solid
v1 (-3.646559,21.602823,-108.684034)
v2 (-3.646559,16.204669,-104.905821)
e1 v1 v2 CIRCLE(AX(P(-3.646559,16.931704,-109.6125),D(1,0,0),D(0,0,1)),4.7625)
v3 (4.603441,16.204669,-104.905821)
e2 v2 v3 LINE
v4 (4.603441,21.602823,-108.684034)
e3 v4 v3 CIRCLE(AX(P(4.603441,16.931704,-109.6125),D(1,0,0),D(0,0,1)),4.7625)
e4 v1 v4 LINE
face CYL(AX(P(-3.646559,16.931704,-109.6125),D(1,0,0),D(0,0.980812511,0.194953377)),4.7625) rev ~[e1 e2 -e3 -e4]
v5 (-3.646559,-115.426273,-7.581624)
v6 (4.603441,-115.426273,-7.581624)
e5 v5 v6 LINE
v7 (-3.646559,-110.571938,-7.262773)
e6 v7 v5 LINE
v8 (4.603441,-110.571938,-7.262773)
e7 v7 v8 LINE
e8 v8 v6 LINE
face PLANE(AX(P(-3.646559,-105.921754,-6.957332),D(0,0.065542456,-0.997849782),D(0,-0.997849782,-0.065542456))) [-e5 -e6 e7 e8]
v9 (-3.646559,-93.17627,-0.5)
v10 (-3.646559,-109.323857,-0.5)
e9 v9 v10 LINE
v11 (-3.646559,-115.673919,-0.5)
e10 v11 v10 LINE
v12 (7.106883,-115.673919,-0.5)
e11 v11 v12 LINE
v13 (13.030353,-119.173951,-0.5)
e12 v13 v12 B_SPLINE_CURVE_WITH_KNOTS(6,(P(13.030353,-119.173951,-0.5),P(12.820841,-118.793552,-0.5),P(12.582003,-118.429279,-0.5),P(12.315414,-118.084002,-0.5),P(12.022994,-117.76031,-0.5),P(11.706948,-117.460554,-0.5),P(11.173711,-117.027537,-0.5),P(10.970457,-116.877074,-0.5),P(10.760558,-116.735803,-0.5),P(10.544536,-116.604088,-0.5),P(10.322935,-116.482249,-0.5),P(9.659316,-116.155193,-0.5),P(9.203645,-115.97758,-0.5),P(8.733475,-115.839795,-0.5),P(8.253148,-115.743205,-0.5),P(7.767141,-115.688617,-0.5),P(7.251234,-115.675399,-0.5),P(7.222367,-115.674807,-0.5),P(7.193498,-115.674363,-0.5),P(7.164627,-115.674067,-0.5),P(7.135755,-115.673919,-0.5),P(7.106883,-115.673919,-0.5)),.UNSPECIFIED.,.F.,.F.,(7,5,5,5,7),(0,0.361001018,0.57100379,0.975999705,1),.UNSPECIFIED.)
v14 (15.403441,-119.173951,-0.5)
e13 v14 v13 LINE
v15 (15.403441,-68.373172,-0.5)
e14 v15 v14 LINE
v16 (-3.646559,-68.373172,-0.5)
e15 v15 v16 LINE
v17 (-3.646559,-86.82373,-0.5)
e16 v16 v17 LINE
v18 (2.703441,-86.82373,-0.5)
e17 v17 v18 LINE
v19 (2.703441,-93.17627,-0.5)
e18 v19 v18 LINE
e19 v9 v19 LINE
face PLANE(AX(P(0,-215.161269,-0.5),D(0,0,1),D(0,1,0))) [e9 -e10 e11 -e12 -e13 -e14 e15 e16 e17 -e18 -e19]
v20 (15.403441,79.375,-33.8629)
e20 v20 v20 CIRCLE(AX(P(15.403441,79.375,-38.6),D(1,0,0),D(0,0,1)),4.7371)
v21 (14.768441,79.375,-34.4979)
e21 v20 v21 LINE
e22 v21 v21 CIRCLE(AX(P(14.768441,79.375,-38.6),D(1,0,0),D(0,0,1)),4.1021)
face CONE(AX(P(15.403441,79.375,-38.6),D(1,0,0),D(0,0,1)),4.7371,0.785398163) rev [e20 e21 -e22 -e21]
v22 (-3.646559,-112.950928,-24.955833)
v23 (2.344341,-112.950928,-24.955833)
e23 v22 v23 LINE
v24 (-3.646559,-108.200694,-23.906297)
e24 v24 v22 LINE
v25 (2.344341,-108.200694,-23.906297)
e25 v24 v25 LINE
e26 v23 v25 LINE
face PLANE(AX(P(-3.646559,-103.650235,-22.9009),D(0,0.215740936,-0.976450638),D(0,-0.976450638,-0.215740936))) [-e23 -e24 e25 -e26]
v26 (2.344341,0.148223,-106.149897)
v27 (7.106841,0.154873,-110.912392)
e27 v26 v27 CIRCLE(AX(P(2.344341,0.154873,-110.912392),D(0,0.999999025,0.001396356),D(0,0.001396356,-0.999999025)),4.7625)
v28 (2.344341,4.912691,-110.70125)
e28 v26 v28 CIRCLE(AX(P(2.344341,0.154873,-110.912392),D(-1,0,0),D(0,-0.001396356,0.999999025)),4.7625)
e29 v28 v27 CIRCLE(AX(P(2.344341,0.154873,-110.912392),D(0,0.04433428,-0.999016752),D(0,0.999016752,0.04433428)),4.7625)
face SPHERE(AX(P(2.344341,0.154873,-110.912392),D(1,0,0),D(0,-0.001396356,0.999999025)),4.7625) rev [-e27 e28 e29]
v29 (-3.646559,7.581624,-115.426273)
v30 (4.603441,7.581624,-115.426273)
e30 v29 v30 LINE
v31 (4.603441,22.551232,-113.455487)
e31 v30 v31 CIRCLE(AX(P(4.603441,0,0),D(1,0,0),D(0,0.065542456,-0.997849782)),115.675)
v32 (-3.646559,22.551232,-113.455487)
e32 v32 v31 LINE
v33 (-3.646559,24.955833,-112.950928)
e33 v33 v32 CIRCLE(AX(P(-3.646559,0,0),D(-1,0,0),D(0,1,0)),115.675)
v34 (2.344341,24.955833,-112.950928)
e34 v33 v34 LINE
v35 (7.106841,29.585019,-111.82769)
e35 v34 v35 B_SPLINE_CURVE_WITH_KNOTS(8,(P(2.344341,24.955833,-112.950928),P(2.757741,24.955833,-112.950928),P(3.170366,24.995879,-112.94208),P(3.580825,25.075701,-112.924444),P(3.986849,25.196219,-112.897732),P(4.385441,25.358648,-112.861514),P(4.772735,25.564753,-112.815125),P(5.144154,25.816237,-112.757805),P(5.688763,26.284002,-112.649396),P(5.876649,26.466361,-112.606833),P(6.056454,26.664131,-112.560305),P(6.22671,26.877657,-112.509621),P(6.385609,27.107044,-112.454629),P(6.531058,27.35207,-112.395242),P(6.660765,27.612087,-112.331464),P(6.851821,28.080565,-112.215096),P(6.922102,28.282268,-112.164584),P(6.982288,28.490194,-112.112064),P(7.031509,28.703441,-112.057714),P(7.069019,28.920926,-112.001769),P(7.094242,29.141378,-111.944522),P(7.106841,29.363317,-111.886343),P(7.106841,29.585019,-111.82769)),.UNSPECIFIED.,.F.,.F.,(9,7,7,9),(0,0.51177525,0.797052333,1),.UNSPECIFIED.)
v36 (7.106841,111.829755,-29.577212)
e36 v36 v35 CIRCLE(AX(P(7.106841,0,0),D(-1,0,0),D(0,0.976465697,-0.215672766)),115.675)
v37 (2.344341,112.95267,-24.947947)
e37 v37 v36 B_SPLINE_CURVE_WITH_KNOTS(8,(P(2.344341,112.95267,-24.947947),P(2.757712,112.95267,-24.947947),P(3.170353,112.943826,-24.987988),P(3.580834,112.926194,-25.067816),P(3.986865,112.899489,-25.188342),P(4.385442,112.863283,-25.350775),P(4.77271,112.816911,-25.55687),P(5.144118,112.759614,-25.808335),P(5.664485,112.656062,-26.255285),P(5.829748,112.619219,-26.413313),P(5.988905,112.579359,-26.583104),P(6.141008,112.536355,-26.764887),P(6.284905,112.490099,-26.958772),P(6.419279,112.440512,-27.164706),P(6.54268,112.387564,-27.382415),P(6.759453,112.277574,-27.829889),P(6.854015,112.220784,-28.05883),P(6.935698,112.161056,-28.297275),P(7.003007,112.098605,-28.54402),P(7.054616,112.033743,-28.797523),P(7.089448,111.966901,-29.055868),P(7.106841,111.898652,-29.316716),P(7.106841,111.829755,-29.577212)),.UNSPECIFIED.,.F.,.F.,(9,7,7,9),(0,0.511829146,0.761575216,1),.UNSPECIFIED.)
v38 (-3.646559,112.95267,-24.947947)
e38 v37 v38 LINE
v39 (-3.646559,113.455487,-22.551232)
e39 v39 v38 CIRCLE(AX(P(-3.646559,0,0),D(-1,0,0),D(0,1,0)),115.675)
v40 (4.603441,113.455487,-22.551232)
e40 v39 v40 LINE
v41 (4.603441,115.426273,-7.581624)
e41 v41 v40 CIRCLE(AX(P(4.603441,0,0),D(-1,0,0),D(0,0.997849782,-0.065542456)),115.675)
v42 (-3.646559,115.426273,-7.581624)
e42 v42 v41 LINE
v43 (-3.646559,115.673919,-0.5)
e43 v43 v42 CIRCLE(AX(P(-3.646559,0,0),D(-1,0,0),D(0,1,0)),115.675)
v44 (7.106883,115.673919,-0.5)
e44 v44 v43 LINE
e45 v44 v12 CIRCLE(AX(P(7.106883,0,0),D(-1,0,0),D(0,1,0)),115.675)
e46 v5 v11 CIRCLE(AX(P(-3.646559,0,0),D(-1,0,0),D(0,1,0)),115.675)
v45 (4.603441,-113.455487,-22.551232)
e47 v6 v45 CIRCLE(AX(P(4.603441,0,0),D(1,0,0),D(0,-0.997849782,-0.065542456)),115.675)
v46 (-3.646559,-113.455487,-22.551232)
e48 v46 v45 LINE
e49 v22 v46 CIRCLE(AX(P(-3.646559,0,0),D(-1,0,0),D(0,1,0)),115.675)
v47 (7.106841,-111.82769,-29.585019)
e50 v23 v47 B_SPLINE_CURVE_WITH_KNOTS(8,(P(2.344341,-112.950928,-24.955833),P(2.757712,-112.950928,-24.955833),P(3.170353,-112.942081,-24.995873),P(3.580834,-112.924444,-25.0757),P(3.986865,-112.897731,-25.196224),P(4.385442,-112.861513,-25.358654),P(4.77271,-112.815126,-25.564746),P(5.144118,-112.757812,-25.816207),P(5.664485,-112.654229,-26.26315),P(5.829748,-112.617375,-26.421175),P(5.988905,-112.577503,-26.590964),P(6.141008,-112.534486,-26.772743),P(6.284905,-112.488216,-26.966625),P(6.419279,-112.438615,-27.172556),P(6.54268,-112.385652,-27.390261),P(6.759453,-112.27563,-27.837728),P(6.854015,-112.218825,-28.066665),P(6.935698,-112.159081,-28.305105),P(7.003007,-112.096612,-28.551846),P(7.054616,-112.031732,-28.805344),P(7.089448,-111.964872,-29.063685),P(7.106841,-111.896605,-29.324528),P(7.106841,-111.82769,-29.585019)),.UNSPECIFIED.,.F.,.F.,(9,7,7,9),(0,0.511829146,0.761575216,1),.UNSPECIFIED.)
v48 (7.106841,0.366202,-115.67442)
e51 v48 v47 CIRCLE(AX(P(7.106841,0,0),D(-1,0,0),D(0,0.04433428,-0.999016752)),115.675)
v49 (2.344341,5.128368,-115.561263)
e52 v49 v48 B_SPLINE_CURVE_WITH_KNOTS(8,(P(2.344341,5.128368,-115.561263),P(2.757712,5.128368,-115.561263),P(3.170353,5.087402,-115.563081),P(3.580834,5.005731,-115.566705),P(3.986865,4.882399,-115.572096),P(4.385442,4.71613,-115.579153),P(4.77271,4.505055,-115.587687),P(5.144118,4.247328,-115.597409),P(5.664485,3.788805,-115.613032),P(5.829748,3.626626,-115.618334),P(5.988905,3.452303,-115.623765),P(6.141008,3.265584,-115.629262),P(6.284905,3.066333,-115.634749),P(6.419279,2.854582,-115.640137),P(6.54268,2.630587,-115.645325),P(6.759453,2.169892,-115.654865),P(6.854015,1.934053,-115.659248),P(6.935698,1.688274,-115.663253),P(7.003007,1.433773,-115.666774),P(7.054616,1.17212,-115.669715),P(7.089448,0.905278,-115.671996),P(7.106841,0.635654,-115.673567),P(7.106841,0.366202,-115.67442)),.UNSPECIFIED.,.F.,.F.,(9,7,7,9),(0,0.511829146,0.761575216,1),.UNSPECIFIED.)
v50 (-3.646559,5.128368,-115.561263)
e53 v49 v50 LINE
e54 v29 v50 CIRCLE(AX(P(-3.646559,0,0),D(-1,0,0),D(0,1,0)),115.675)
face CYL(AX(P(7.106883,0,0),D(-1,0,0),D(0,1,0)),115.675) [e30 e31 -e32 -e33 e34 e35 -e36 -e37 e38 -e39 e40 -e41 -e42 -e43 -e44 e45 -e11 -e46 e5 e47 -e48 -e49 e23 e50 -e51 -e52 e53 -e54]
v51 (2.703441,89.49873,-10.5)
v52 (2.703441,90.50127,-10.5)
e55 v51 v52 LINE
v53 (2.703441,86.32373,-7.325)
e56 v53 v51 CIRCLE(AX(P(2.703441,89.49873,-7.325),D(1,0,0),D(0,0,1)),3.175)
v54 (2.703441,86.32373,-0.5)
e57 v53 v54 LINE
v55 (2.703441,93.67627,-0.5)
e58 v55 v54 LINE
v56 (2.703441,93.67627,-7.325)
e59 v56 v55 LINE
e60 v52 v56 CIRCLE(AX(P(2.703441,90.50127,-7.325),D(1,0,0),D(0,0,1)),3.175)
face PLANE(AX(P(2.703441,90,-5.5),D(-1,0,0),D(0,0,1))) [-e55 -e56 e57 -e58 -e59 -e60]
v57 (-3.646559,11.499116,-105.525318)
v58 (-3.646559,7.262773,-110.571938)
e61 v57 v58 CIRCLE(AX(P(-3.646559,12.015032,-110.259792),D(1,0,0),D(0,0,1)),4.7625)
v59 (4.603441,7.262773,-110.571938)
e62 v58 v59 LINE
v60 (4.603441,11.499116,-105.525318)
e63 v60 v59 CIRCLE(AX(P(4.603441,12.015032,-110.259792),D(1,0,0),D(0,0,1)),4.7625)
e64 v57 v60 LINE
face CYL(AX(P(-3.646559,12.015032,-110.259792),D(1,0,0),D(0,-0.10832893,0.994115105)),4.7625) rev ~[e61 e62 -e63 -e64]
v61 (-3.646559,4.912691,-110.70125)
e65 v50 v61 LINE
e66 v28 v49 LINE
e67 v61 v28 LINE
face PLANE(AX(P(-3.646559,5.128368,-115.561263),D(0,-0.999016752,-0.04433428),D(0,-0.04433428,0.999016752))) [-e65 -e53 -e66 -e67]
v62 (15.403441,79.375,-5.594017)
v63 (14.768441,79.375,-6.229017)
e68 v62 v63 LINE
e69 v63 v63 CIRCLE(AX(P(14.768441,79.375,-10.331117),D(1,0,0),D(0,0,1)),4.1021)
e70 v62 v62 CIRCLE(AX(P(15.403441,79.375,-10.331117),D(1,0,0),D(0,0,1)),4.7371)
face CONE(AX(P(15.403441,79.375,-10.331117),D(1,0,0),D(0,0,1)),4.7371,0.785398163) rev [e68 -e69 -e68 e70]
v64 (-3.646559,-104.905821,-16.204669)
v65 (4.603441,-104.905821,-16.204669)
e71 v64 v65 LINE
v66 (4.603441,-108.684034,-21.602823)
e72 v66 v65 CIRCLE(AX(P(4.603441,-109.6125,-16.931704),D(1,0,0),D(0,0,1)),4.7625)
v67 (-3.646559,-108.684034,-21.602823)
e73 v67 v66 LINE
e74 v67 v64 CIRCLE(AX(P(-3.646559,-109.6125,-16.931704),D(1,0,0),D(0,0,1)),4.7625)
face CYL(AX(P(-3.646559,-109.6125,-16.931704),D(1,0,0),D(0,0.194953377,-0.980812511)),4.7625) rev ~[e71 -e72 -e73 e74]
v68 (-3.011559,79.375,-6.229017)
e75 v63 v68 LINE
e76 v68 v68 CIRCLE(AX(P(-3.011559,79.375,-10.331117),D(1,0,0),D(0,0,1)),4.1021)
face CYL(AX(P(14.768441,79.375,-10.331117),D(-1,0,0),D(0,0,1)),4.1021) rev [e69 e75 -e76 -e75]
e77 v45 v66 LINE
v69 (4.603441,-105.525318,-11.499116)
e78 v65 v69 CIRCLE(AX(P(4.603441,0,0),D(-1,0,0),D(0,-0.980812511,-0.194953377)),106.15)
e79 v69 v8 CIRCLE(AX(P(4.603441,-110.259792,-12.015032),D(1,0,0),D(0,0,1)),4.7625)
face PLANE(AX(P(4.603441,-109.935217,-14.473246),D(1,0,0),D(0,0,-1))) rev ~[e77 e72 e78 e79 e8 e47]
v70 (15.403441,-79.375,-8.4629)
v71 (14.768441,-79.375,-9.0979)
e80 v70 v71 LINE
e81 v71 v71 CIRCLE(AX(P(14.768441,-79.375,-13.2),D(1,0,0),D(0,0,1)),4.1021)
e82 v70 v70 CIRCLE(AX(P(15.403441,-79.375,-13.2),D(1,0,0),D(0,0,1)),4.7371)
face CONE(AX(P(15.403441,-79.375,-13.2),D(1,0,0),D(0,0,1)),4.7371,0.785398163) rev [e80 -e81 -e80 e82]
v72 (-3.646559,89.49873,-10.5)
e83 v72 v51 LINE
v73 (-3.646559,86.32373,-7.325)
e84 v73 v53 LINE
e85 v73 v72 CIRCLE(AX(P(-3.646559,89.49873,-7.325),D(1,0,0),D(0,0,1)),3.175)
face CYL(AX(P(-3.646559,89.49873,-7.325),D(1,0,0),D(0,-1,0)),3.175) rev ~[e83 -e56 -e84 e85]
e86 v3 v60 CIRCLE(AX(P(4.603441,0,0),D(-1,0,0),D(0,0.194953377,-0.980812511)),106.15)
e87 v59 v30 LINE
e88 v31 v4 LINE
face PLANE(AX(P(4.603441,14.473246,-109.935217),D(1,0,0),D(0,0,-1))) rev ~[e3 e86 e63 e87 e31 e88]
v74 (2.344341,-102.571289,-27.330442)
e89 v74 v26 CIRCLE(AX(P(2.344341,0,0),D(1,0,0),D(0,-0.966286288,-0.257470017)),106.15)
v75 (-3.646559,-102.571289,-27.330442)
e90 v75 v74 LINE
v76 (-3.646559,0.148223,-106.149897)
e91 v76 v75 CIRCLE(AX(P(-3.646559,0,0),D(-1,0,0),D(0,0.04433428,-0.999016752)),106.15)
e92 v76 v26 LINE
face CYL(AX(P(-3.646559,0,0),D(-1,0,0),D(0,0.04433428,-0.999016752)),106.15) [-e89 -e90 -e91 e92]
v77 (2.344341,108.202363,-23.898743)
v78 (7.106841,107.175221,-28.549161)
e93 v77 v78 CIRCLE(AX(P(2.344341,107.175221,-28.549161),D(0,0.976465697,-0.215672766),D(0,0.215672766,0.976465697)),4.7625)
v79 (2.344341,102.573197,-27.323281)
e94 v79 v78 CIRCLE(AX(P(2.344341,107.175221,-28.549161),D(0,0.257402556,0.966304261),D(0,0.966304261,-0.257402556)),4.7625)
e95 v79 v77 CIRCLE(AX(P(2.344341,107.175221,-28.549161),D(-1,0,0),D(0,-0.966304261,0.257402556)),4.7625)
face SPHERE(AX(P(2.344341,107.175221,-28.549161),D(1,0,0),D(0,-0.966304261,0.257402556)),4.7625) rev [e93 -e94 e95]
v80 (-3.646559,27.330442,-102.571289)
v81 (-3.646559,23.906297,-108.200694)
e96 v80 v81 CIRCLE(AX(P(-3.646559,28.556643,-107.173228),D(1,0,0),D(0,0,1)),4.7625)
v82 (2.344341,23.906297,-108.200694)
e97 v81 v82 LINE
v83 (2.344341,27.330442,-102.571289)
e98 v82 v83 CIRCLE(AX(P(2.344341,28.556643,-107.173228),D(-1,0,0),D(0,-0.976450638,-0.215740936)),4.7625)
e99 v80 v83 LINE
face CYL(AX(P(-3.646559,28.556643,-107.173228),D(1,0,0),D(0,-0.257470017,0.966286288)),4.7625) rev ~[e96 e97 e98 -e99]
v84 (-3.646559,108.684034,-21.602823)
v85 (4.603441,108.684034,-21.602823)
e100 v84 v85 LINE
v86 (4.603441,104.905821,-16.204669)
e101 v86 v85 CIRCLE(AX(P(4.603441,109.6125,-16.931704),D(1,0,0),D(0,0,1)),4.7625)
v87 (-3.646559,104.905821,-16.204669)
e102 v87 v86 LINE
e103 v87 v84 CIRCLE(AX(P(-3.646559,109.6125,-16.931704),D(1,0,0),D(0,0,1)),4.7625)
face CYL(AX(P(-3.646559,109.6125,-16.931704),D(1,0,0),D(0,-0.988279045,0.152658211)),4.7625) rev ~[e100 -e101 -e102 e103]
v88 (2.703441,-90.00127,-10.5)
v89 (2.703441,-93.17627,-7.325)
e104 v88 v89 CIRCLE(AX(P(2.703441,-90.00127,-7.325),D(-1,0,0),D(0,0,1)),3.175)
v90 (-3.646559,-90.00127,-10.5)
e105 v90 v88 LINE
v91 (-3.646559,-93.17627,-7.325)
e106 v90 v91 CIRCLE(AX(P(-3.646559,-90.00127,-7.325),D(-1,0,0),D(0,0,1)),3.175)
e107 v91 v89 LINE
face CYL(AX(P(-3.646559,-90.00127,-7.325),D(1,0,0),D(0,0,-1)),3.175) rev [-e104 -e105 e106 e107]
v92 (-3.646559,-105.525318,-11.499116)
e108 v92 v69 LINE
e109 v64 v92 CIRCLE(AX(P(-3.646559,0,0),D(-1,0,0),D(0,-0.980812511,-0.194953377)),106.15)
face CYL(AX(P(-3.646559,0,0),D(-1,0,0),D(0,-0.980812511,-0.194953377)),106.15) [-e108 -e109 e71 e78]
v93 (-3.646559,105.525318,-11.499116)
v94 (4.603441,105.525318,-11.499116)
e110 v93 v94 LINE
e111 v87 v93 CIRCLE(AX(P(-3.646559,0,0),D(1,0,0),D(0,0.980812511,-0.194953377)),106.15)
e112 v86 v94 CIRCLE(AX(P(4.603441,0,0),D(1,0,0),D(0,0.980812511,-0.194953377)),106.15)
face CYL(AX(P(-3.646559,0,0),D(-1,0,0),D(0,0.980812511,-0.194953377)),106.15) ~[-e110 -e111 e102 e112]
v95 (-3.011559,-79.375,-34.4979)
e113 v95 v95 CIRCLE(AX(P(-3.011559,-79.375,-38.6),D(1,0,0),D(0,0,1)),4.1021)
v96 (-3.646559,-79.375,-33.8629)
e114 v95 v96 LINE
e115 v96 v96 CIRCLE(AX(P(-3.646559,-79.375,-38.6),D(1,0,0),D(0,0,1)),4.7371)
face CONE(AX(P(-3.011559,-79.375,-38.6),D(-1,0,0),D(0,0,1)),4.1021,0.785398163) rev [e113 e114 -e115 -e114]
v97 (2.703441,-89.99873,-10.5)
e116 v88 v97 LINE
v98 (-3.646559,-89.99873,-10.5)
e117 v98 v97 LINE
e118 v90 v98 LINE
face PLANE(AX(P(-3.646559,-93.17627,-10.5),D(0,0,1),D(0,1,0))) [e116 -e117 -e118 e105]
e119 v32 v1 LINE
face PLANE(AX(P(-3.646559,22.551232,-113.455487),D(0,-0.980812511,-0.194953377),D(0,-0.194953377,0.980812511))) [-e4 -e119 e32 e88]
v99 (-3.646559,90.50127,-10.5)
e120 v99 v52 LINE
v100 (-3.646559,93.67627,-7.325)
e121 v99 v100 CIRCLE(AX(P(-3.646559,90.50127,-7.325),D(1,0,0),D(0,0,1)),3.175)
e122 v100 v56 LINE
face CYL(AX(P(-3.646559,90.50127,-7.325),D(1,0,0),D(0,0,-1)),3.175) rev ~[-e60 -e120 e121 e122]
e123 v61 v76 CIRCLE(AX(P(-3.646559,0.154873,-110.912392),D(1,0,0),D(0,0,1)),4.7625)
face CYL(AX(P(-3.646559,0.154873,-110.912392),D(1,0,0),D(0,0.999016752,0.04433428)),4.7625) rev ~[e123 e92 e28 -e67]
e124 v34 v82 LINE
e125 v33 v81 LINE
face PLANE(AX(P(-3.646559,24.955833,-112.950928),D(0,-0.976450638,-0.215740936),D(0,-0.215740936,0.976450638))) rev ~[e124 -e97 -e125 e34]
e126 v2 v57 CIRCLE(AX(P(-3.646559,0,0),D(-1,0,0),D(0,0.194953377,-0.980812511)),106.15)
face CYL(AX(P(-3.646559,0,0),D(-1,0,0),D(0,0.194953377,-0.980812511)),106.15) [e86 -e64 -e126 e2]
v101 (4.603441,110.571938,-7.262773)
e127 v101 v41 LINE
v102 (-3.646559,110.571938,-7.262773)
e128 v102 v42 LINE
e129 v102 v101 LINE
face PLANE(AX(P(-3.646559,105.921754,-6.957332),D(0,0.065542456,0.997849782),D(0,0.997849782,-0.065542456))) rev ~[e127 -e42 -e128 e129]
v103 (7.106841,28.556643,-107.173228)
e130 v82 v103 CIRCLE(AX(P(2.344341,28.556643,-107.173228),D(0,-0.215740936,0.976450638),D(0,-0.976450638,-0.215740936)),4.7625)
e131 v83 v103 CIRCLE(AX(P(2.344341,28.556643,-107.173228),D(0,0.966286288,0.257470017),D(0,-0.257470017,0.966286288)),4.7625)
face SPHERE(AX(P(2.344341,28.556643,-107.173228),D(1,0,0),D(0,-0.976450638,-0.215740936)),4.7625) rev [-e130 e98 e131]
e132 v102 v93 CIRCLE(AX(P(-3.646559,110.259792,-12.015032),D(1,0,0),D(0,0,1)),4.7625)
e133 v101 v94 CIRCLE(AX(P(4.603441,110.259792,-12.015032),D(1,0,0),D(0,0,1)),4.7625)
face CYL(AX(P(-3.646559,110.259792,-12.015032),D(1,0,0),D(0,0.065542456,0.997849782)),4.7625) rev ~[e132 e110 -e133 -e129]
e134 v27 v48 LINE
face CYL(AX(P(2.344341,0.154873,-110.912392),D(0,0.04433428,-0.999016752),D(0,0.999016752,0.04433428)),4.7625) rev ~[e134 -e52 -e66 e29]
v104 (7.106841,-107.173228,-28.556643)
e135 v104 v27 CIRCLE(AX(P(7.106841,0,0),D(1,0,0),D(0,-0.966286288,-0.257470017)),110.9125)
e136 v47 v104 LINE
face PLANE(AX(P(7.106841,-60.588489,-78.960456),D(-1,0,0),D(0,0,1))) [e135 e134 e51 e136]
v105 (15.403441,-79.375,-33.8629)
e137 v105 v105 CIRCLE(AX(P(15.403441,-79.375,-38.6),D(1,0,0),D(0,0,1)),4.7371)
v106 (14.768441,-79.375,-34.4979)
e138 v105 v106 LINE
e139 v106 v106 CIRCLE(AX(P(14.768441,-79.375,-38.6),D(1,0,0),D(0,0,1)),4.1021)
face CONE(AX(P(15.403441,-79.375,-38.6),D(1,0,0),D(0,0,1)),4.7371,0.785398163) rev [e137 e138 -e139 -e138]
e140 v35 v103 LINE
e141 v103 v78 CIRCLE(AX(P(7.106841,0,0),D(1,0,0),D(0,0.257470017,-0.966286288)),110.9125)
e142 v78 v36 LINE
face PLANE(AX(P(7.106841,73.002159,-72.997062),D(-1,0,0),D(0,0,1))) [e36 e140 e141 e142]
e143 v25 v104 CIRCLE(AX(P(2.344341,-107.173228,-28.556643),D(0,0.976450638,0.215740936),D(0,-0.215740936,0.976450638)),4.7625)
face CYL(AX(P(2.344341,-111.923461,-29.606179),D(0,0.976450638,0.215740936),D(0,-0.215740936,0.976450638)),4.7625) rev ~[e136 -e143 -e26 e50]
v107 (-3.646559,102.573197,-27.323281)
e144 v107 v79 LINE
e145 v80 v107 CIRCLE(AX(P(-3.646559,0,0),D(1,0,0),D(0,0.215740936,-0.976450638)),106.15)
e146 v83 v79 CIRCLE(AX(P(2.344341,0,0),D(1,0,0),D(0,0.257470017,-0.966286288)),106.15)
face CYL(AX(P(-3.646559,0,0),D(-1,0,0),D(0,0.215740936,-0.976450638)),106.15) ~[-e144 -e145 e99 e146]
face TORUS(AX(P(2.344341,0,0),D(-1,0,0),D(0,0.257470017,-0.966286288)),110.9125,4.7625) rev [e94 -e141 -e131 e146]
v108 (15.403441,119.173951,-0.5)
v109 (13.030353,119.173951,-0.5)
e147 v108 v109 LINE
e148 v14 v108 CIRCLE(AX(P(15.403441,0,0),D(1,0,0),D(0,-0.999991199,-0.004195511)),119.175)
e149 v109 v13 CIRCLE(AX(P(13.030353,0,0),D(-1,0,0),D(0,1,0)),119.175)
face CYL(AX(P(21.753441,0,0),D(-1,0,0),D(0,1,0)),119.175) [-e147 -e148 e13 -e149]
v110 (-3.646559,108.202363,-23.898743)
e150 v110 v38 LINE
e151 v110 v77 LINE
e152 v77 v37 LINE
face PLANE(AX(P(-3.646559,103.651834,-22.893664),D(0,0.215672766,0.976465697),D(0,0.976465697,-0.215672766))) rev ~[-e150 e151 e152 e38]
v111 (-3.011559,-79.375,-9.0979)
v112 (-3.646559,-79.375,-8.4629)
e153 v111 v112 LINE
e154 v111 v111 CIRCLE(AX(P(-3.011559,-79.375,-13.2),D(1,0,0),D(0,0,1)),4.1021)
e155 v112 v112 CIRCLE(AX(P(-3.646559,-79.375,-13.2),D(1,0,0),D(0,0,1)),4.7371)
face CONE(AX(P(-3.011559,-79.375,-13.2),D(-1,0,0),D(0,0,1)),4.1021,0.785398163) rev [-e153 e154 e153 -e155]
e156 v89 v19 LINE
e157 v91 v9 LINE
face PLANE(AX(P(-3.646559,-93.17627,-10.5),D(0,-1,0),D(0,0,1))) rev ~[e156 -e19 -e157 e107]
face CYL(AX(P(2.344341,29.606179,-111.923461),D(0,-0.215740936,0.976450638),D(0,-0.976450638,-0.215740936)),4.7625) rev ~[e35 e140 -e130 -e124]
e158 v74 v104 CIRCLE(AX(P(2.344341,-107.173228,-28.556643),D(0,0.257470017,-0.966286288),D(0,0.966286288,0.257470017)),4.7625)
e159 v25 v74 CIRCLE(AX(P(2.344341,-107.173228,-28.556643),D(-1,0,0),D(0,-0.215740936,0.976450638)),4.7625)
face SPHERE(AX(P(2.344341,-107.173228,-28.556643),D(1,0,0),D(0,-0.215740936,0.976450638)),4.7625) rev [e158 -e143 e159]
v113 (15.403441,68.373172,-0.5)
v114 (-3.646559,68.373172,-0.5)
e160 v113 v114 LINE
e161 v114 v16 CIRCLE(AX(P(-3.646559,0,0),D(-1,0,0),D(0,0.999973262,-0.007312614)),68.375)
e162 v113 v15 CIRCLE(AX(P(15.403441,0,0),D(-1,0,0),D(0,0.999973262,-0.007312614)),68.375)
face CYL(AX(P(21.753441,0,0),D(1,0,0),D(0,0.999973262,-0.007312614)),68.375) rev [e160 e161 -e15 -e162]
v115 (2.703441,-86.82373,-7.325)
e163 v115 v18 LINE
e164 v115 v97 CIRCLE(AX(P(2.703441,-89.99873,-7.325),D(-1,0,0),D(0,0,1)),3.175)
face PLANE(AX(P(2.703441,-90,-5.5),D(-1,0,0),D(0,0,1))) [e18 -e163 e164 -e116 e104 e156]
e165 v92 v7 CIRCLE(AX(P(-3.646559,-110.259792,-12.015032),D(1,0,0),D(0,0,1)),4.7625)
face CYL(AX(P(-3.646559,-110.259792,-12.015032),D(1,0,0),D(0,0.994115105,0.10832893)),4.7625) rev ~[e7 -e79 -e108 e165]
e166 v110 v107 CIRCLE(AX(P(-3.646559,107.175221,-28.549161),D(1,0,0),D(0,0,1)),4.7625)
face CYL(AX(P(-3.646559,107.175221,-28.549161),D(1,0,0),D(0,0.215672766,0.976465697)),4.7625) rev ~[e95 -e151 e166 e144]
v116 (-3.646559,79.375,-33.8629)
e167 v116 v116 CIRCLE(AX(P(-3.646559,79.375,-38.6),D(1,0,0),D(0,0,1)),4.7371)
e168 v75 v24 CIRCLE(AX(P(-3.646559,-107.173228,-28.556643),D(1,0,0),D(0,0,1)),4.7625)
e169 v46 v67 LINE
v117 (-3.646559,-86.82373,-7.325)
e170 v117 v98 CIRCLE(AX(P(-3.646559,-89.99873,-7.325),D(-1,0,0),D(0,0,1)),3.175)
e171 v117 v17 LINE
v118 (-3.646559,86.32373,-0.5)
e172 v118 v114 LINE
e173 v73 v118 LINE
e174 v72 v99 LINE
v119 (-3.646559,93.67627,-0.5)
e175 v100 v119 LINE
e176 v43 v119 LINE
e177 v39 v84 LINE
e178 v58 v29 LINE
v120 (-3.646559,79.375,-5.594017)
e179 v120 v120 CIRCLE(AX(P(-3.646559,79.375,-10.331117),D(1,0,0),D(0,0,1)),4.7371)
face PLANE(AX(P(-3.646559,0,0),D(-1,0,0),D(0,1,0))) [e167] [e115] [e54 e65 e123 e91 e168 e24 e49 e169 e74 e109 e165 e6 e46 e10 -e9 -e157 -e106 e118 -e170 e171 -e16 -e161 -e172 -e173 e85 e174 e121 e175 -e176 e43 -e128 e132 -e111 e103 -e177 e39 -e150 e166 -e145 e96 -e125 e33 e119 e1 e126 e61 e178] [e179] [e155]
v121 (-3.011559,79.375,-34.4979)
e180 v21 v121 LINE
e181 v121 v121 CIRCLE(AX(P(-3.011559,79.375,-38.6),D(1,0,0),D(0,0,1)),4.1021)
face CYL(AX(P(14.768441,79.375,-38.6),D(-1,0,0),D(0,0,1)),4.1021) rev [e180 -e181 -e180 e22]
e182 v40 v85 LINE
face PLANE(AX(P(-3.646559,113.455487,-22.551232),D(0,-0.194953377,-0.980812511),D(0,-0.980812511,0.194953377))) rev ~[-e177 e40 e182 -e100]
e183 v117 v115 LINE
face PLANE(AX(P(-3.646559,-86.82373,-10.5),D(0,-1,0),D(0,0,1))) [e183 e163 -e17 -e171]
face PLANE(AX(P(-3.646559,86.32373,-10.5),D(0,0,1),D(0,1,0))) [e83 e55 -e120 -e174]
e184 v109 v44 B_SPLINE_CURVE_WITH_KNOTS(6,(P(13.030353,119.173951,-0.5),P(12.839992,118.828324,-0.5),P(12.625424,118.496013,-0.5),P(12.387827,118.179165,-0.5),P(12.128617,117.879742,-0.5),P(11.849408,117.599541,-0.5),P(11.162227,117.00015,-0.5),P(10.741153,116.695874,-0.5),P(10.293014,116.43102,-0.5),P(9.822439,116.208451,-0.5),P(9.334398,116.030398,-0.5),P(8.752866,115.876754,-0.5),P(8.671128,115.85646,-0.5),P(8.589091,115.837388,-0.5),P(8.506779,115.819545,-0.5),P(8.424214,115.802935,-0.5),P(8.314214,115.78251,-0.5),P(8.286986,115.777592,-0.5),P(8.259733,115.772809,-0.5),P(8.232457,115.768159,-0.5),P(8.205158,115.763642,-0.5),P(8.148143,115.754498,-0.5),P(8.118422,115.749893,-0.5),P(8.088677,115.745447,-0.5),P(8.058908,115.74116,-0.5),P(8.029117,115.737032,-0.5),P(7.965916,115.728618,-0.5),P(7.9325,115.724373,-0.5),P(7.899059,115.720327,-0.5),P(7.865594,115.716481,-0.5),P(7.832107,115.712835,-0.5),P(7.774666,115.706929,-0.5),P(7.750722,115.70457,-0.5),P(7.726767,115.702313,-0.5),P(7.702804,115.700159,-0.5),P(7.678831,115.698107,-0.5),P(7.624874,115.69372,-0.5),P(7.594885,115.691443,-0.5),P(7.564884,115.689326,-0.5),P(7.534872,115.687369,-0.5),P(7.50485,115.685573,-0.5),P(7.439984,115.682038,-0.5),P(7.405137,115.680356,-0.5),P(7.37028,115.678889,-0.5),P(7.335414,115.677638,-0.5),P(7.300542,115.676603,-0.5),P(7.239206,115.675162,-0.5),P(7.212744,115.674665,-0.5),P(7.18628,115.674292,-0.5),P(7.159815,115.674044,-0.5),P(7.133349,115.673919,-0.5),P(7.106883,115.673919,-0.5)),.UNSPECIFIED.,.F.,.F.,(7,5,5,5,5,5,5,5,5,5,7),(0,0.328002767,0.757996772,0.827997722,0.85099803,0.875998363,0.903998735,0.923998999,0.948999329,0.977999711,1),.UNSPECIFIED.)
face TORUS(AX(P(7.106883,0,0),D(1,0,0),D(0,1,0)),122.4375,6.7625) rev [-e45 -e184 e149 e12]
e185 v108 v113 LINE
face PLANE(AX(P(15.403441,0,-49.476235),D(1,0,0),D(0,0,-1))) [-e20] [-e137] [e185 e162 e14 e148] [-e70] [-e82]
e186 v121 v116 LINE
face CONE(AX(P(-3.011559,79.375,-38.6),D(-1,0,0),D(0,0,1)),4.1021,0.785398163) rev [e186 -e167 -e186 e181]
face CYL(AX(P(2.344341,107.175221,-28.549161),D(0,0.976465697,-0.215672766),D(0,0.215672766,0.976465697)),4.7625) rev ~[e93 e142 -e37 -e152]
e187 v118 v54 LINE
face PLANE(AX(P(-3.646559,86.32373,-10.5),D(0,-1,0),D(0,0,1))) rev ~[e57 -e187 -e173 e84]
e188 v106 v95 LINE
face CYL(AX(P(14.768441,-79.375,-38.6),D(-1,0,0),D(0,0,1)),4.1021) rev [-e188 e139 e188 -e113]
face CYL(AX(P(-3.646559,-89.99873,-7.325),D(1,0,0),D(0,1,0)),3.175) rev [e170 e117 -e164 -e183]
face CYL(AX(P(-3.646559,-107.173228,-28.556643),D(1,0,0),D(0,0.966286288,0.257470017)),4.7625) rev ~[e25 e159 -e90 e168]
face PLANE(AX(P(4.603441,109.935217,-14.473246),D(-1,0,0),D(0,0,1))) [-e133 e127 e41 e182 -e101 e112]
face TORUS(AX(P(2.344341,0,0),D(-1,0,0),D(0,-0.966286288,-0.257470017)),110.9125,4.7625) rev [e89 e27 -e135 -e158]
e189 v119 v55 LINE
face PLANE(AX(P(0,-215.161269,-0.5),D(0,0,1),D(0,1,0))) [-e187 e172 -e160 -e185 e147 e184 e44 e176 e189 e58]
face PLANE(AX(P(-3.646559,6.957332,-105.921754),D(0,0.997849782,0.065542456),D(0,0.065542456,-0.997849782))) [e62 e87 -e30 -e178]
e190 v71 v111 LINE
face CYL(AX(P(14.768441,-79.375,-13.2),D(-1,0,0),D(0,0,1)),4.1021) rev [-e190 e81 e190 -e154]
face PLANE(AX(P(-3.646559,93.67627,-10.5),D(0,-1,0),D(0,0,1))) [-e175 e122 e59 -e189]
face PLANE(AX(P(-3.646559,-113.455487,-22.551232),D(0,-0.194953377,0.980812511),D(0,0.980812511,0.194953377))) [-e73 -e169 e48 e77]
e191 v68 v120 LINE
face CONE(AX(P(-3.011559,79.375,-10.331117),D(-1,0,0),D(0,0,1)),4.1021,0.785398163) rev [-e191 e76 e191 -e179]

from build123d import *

# Parameters (mm, degrees)
REVOLVE_THIN1_ANGLE               = 180
SKETCH81_W                        = 41.373480097
SKETCH81_H                        = 433.466768404
EXTRUDE1_DEPTH                    = 22.75344145
EXTRUDE1_DEPTH_BACK               = 4.64655855
BOSS_EXTRUDE1_DEPTH               = 25.4
CUT_EXTRUDE1_DEPTH                = 6.35
F_5_16_CLEARANCE_HOLE1_AT_2_COUNT = 2
F_5_16_CLEARANCE_HOLE1_AT_2_PITCH = 25.4
F_5_16_CLEARANCE_HOLE1_AT_3_COUNT = 2
F_5_16_CLEARANCE_HOLE1_AT_3_PITCH = 158.75
F_5_16_CLEARANCE_HOLE1_AT_4_COUNT = 2
F_5_16_CLEARANCE_HOLE1_AT_4_PITCH = 161.247301583
CUT_EXTRUDE2_DEPTH                = 8.25
CUT_EXTRUDE3_DEPTH                = 2.5034
FILLET1_R                         = 4.7625
FILLET2_R                         = 4.7625
SKETCH88_W                        = 10
SKETCH88_H                        = 6.35254
CUT_EXTRUDE4_DEPTH                = 6.35
SKETCH89_W                        = 10
SKETCH89_H                        = 7.35254
CUT_EXTRUDE5_DEPTH                = 6.35
FILLET3_R                         = 3.175


with BuildPart() as part:
    # Sketch1 → Revolve-Thin1 (revolve)
    with BuildSketch(Plane.XY):
        with BuildLine():
            Line((21.75344145, 119.175), (13.030353167, 119.175))
            ThreePointArc((13.030353167, 119.175), (10.546995544, 116.615384298), (7.1068829, 115.675))
            Line((7.1068829, 115.675), (-3.64655855, 115.675))
            Line((-3.64655855, 115.675), (-3.64655855, 109.325))
            Line((-3.64655855, 109.325), (7.1068829, 109.325))
            ThreePointArc((7.1068829, 109.325), (11.897172557, 110.231322005), (16.025262798, 112.825))
            Line((16.025262798, 112.825), (21.75344145, 112.825))
            Line((21.75344145, 112.825), (21.75344145, 119.175))
        make_face()
    revolve(axis=Axis((0, 0, 0), (-1, 0, 0)), revolution_arc=REVOLVE_THIN1_ANGLE)

    # Sketch81 → Extrude1 (cut, two sides)
    with BuildSketch(Plane(origin=(0, 0, 0), x_dir=(0, 0, -1), z_dir=(1, 0, 0))) as extrude1_sk:
        with Locations((-20.186740049, 1.572115024)):
            Rectangle(SKETCH81_W, SKETCH81_H)
    extrude(amount=EXTRUDE1_DEPTH, mode=Mode.SUBTRACT)
    extrude(extrude1_sk.sketch, amount=-EXTRUDE1_DEPTH_BACK, mode=Mode.SUBTRACT)

    # Sketch82 → Boss-Extrude1 (add)
    with BuildSketch(Plane(origin=(21.75344145, 0, 0), x_dir=(0, 0, -1), z_dir=(1, 0, 0))):
        with BuildLine():
            Line((0.5, 112.823892084), (0.5, 68.373171822))
            ThreePointArc((0.5, 68.373171822), (68.375, 0), (0.5, -68.373171822))
            Line((0.5, -68.373171822), (0.5, -112.823892084))
            ThreePointArc((0.5, -112.823892084), (112.825, 0), (0.5, 112.823892084))
        make_face()
    extrude(amount=-BOSS_EXTRUDE1_DEPTH)

    # Sketch83 → Cut-Extrude1 (cut)
    with BuildSketch(Plane(origin=(21.75344145, 0, 0), x_dir=(0, 0, -1), z_dir=(1, 0, 0))):
        with BuildLine():
            Line((0.5, -68.373171822), (0.5, -119.173951118))
            ThreePointArc((0.5, -119.173951118), (119.175, 0), (0.5, 119.173951118))
            Line((0.5, 119.173951118), (0.5, 68.373171822))
            ThreePointArc((0.5, 68.373171822), (68.375, 0), (0.5, -68.373171822))
        make_face()
    extrude(amount=-CUT_EXTRUDE1_DEPTH, mode=Mode.SUBTRACT)

    # Sketch84 → 5_16 Clearance Hole1 (revolve, cut)
    with BuildSketch(Plane(origin=(-3.64655855, -79.375, -38.6), x_dir=(0, 0, 1), z_dir=(0, 1, 0))):
        Polygon((0, 0), (0, 19.05), (4.7371, 19.05), (4.1021, 18.415), (4.1021, 0.635), (4.7371, 0), align=None)
    f_5_16_clearance_hole1 = revolve(axis=Axis((-9.99655855, -79.375, -38.6), (1, 0, 0)), mode=Mode.SUBTRACT)

    # 5_16 Clearance Hole1 at 2: 5_16 Clearance Hole1 ×2
    with Locations(*[(0, 0, i * F_5_16_CLEARANCE_HOLE1_AT_2_PITCH) for i in range(1, F_5_16_CLEARANCE_HOLE1_AT_2_COUNT)]):
        add(f_5_16_clearance_hole1, mode=Mode.SUBTRACT)

    # 5_16 Clearance Hole1 at 3: 5_16 Clearance Hole1 ×2
    with Locations(*[(0, i * F_5_16_CLEARANCE_HOLE1_AT_3_PITCH, 0) for i in range(1, F_5_16_CLEARANCE_HOLE1_AT_3_COUNT)]):
        add(f_5_16_clearance_hole1, mode=Mode.SUBTRACT)

    # 5_16 Clearance Hole1 at 4: 5_16 Clearance Hole1 ×2
    with Locations(*[Vector(0, 0.984512599, 0.175313838) * (i * F_5_16_CLEARANCE_HOLE1_AT_4_PITCH) for i in range(1, F_5_16_CLEARANCE_HOLE1_AT_4_COUNT)]):
        add(f_5_16_clearance_hole1, mode=Mode.SUBTRACT)

    # Sketch86 → Cut-Extrude2 (cut)
    with BuildSketch(Plane.ZY.offset(3.64655855)):
        with BuildLine():
            Line((-22.551231845, 113.455487163), (-20.694300932, 104.113247999))
            ThreePointArc((-20.694300932, 104.113247999), (-13.855355304, 105.241872035), (-6.957331702, 105.921754308))
            Line((-6.957331702, 105.921754308), (-7.581623596, 115.426273476))
            ThreePointArc((-7.581623596, 115.426273476), (-15.098617285, 114.685384339), (-22.551231845, 113.455487163))
        make_face()
        with BuildLine():
            Line((-22.893664129, 103.651833765), (-24.947947227, 112.952669531))
            ThreePointArc((-24.947947227, 112.952669531), (-81.791721695, 81.797432033), (-112.95092756, 24.95583275))
            Line((-112.95092756, 24.95583275), (-103.650235233, 22.900900336))
            ThreePointArc((-103.650235233, 22.900900336), (-75.05676471, 75.062004844), (-22.893664129, 103.651833765))
        make_face()
        with BuildLine():
            Line((-113.455487163, 22.551231845), (-104.113247999, 20.694300932))
            ThreePointArc((-104.113247999, 20.694300932), (-105.241872035, 13.855355304), (-105.921754308, 6.957331702))
            Line((-105.921754308, 6.957331702), (-115.426273476, 7.581623596))
            ThreePointArc((-115.426273476, 7.581623596), (-114.685384339, 15.098617285), (-113.455487163, 22.551231845))
        make_face()
        with BuildLine():
            Line((-115.561262836, 5.128367845), (-106.045628269, 4.706083827))
            ThreePointArc((-106.045628269, 4.706083827), (-84.214457072, -64.620025689), (-22.900900336, -103.650235233))
            Line((-22.900900336, -103.650235233), (-24.95583275, -112.95092756))
            ThreePointArc((-24.95583275, -112.95092756), (-91.771147638, -70.418478301), (-115.561262836, 5.128367845))
        make_face()
        with BuildLine():
            Line((-22.551231845, -113.455487163), (-20.694300932, -104.113247999))
            ThreePointArc((-20.694300932, -104.113247999), (-13.855355304, -105.241872035), (-6.957331702, -105.921754308))
            Line((-6.957331702, -105.921754308), (-7.581623596, -115.426273476))
            ThreePointArc((-7.581623596, -115.426273476), (-15.098617285, -114.685384339), (-22.551231845, -113.455487163))
        make_face()
    extrude(amount=-CUT_EXTRUDE2_DEPTH, mode=Mode.SUBTRACT)

    # Sketch87 → Cut-Extrude3 (cut)
    with BuildSketch(Plane.ZY.offset(-4.60344145)):
        with BuildLine():
            Line((-24.95583275, -112.95092756), (-22.900900336, -103.650235233))
            ThreePointArc((-22.900900336, -103.650235233), (-84.214457072, -64.620025689), (-106.045628269, 4.706083827))
            Line((-106.045628269, 4.706083827), (-115.561262836, 5.128367845))
            ThreePointArc((-115.561262836, 5.128367845), (-91.771147638, -70.418478301), (-24.95583275, -112.95092756))
        make_face()
        with BuildLine():
            Line((-22.893664129, 103.651833765), (-24.947947227, 112.952669531))
            ThreePointArc((-24.947947227, 112.952669531), (-81.791721695, 81.797432033), (-112.95092756, 24.95583275))
            Line((-112.95092756, 24.95583275), (-103.650235233, 22.900900336))
            ThreePointArc((-103.650235233, 22.900900336), (-75.05676471, 75.062004844), (-22.893664129, 103.651833765))
        make_face()
    extrude(amount=-CUT_EXTRUDE3_DEPTH, mode=Mode.SUBTRACT)

    # Fillet1
    fillet1_edges = [part.edges().sort_by_distance(p)[0] for p in [
        (0.47844145, 105.921754308, -6.957331702),
        (0.47844145, 104.113247999, -20.694300932),
        (1.73014145, 103.651833765, -22.893664129),
        (1.73014145, 22.900900336, -103.650235233),
        (0.47844145, 20.694300932, -104.113247999),
        (0.47844145, 6.957331702, -105.921754308),
        (1.73014145, 4.706083827, -106.045628269),
        (1.73014145, -103.650235233, -22.900900336),
        (0.47844145, -104.113247999, -20.694300932),
        (0.47844145, -105.921754308, -6.957331702),
    ]]
    fillet(fillet1_edges, radius=FILLET1_R)

    # Fillet2
    fillet2_edges = [part.edges().sort_by_distance(p)[0] for p in [
        (7.10684145, -110.575810848, -24.4310649),
        (7.10684145, 24.4310649, -110.575810848),
        (7.10684145, 110.577516189, -24.423345192),
        (7.10684145, 75.062004844, -75.05676471),
        (7.10684145, 24.487736641, -104.698272262),
        (7.10684145, 104.699981573, -24.480427263),
        (7.10684145, 5.020529225, -113.131256349),
        (7.10684145, -64.620025689, -84.214457072),
        (7.10684145, -104.698272262, -24.487736641),
        (7.10684145, 3.444569602, -107.468657759),
    ]]
    fillet(fillet2_edges, radius=FILLET2_R)

    # Sketch88 → Cut-Extrude4 (cut)
    with BuildSketch(Plane.ZY.offset(3.64655855)):
        with Locations((-5.5, -90)):
            Rectangle(SKETCH88_W, SKETCH88_H)
        with Locations((-5.5, 90)):
            Rectangle(SKETCH88_W, SKETCH88_H)
    extrude(amount=-CUT_EXTRUDE4_DEPTH, mode=Mode.SUBTRACT)

    # Sketch89 → Cut-Extrude5 (cut)
    with BuildSketch(Plane.ZY.offset(3.64655855)):
        with Locations((-5.5, 90)):
            Rectangle(SKETCH89_W, SKETCH89_H)
    extrude(amount=-CUT_EXTRUDE5_DEPTH, mode=Mode.SUBTRACT)

    # Fillet3
    fillet3_edges = [part.edges().sort_by_distance(p)[0] for p in [
        (-0.47155855, -93.17627, -10.5),
        (-0.47155855, -86.82373, -10.5),
        (-0.47155855, 86.32373, -10.5),
        (-0.47155855, 93.67627, -10.5),
    ]]
    fillet(fillet3_edges, radius=FILLET3_R)


solid = part.part
